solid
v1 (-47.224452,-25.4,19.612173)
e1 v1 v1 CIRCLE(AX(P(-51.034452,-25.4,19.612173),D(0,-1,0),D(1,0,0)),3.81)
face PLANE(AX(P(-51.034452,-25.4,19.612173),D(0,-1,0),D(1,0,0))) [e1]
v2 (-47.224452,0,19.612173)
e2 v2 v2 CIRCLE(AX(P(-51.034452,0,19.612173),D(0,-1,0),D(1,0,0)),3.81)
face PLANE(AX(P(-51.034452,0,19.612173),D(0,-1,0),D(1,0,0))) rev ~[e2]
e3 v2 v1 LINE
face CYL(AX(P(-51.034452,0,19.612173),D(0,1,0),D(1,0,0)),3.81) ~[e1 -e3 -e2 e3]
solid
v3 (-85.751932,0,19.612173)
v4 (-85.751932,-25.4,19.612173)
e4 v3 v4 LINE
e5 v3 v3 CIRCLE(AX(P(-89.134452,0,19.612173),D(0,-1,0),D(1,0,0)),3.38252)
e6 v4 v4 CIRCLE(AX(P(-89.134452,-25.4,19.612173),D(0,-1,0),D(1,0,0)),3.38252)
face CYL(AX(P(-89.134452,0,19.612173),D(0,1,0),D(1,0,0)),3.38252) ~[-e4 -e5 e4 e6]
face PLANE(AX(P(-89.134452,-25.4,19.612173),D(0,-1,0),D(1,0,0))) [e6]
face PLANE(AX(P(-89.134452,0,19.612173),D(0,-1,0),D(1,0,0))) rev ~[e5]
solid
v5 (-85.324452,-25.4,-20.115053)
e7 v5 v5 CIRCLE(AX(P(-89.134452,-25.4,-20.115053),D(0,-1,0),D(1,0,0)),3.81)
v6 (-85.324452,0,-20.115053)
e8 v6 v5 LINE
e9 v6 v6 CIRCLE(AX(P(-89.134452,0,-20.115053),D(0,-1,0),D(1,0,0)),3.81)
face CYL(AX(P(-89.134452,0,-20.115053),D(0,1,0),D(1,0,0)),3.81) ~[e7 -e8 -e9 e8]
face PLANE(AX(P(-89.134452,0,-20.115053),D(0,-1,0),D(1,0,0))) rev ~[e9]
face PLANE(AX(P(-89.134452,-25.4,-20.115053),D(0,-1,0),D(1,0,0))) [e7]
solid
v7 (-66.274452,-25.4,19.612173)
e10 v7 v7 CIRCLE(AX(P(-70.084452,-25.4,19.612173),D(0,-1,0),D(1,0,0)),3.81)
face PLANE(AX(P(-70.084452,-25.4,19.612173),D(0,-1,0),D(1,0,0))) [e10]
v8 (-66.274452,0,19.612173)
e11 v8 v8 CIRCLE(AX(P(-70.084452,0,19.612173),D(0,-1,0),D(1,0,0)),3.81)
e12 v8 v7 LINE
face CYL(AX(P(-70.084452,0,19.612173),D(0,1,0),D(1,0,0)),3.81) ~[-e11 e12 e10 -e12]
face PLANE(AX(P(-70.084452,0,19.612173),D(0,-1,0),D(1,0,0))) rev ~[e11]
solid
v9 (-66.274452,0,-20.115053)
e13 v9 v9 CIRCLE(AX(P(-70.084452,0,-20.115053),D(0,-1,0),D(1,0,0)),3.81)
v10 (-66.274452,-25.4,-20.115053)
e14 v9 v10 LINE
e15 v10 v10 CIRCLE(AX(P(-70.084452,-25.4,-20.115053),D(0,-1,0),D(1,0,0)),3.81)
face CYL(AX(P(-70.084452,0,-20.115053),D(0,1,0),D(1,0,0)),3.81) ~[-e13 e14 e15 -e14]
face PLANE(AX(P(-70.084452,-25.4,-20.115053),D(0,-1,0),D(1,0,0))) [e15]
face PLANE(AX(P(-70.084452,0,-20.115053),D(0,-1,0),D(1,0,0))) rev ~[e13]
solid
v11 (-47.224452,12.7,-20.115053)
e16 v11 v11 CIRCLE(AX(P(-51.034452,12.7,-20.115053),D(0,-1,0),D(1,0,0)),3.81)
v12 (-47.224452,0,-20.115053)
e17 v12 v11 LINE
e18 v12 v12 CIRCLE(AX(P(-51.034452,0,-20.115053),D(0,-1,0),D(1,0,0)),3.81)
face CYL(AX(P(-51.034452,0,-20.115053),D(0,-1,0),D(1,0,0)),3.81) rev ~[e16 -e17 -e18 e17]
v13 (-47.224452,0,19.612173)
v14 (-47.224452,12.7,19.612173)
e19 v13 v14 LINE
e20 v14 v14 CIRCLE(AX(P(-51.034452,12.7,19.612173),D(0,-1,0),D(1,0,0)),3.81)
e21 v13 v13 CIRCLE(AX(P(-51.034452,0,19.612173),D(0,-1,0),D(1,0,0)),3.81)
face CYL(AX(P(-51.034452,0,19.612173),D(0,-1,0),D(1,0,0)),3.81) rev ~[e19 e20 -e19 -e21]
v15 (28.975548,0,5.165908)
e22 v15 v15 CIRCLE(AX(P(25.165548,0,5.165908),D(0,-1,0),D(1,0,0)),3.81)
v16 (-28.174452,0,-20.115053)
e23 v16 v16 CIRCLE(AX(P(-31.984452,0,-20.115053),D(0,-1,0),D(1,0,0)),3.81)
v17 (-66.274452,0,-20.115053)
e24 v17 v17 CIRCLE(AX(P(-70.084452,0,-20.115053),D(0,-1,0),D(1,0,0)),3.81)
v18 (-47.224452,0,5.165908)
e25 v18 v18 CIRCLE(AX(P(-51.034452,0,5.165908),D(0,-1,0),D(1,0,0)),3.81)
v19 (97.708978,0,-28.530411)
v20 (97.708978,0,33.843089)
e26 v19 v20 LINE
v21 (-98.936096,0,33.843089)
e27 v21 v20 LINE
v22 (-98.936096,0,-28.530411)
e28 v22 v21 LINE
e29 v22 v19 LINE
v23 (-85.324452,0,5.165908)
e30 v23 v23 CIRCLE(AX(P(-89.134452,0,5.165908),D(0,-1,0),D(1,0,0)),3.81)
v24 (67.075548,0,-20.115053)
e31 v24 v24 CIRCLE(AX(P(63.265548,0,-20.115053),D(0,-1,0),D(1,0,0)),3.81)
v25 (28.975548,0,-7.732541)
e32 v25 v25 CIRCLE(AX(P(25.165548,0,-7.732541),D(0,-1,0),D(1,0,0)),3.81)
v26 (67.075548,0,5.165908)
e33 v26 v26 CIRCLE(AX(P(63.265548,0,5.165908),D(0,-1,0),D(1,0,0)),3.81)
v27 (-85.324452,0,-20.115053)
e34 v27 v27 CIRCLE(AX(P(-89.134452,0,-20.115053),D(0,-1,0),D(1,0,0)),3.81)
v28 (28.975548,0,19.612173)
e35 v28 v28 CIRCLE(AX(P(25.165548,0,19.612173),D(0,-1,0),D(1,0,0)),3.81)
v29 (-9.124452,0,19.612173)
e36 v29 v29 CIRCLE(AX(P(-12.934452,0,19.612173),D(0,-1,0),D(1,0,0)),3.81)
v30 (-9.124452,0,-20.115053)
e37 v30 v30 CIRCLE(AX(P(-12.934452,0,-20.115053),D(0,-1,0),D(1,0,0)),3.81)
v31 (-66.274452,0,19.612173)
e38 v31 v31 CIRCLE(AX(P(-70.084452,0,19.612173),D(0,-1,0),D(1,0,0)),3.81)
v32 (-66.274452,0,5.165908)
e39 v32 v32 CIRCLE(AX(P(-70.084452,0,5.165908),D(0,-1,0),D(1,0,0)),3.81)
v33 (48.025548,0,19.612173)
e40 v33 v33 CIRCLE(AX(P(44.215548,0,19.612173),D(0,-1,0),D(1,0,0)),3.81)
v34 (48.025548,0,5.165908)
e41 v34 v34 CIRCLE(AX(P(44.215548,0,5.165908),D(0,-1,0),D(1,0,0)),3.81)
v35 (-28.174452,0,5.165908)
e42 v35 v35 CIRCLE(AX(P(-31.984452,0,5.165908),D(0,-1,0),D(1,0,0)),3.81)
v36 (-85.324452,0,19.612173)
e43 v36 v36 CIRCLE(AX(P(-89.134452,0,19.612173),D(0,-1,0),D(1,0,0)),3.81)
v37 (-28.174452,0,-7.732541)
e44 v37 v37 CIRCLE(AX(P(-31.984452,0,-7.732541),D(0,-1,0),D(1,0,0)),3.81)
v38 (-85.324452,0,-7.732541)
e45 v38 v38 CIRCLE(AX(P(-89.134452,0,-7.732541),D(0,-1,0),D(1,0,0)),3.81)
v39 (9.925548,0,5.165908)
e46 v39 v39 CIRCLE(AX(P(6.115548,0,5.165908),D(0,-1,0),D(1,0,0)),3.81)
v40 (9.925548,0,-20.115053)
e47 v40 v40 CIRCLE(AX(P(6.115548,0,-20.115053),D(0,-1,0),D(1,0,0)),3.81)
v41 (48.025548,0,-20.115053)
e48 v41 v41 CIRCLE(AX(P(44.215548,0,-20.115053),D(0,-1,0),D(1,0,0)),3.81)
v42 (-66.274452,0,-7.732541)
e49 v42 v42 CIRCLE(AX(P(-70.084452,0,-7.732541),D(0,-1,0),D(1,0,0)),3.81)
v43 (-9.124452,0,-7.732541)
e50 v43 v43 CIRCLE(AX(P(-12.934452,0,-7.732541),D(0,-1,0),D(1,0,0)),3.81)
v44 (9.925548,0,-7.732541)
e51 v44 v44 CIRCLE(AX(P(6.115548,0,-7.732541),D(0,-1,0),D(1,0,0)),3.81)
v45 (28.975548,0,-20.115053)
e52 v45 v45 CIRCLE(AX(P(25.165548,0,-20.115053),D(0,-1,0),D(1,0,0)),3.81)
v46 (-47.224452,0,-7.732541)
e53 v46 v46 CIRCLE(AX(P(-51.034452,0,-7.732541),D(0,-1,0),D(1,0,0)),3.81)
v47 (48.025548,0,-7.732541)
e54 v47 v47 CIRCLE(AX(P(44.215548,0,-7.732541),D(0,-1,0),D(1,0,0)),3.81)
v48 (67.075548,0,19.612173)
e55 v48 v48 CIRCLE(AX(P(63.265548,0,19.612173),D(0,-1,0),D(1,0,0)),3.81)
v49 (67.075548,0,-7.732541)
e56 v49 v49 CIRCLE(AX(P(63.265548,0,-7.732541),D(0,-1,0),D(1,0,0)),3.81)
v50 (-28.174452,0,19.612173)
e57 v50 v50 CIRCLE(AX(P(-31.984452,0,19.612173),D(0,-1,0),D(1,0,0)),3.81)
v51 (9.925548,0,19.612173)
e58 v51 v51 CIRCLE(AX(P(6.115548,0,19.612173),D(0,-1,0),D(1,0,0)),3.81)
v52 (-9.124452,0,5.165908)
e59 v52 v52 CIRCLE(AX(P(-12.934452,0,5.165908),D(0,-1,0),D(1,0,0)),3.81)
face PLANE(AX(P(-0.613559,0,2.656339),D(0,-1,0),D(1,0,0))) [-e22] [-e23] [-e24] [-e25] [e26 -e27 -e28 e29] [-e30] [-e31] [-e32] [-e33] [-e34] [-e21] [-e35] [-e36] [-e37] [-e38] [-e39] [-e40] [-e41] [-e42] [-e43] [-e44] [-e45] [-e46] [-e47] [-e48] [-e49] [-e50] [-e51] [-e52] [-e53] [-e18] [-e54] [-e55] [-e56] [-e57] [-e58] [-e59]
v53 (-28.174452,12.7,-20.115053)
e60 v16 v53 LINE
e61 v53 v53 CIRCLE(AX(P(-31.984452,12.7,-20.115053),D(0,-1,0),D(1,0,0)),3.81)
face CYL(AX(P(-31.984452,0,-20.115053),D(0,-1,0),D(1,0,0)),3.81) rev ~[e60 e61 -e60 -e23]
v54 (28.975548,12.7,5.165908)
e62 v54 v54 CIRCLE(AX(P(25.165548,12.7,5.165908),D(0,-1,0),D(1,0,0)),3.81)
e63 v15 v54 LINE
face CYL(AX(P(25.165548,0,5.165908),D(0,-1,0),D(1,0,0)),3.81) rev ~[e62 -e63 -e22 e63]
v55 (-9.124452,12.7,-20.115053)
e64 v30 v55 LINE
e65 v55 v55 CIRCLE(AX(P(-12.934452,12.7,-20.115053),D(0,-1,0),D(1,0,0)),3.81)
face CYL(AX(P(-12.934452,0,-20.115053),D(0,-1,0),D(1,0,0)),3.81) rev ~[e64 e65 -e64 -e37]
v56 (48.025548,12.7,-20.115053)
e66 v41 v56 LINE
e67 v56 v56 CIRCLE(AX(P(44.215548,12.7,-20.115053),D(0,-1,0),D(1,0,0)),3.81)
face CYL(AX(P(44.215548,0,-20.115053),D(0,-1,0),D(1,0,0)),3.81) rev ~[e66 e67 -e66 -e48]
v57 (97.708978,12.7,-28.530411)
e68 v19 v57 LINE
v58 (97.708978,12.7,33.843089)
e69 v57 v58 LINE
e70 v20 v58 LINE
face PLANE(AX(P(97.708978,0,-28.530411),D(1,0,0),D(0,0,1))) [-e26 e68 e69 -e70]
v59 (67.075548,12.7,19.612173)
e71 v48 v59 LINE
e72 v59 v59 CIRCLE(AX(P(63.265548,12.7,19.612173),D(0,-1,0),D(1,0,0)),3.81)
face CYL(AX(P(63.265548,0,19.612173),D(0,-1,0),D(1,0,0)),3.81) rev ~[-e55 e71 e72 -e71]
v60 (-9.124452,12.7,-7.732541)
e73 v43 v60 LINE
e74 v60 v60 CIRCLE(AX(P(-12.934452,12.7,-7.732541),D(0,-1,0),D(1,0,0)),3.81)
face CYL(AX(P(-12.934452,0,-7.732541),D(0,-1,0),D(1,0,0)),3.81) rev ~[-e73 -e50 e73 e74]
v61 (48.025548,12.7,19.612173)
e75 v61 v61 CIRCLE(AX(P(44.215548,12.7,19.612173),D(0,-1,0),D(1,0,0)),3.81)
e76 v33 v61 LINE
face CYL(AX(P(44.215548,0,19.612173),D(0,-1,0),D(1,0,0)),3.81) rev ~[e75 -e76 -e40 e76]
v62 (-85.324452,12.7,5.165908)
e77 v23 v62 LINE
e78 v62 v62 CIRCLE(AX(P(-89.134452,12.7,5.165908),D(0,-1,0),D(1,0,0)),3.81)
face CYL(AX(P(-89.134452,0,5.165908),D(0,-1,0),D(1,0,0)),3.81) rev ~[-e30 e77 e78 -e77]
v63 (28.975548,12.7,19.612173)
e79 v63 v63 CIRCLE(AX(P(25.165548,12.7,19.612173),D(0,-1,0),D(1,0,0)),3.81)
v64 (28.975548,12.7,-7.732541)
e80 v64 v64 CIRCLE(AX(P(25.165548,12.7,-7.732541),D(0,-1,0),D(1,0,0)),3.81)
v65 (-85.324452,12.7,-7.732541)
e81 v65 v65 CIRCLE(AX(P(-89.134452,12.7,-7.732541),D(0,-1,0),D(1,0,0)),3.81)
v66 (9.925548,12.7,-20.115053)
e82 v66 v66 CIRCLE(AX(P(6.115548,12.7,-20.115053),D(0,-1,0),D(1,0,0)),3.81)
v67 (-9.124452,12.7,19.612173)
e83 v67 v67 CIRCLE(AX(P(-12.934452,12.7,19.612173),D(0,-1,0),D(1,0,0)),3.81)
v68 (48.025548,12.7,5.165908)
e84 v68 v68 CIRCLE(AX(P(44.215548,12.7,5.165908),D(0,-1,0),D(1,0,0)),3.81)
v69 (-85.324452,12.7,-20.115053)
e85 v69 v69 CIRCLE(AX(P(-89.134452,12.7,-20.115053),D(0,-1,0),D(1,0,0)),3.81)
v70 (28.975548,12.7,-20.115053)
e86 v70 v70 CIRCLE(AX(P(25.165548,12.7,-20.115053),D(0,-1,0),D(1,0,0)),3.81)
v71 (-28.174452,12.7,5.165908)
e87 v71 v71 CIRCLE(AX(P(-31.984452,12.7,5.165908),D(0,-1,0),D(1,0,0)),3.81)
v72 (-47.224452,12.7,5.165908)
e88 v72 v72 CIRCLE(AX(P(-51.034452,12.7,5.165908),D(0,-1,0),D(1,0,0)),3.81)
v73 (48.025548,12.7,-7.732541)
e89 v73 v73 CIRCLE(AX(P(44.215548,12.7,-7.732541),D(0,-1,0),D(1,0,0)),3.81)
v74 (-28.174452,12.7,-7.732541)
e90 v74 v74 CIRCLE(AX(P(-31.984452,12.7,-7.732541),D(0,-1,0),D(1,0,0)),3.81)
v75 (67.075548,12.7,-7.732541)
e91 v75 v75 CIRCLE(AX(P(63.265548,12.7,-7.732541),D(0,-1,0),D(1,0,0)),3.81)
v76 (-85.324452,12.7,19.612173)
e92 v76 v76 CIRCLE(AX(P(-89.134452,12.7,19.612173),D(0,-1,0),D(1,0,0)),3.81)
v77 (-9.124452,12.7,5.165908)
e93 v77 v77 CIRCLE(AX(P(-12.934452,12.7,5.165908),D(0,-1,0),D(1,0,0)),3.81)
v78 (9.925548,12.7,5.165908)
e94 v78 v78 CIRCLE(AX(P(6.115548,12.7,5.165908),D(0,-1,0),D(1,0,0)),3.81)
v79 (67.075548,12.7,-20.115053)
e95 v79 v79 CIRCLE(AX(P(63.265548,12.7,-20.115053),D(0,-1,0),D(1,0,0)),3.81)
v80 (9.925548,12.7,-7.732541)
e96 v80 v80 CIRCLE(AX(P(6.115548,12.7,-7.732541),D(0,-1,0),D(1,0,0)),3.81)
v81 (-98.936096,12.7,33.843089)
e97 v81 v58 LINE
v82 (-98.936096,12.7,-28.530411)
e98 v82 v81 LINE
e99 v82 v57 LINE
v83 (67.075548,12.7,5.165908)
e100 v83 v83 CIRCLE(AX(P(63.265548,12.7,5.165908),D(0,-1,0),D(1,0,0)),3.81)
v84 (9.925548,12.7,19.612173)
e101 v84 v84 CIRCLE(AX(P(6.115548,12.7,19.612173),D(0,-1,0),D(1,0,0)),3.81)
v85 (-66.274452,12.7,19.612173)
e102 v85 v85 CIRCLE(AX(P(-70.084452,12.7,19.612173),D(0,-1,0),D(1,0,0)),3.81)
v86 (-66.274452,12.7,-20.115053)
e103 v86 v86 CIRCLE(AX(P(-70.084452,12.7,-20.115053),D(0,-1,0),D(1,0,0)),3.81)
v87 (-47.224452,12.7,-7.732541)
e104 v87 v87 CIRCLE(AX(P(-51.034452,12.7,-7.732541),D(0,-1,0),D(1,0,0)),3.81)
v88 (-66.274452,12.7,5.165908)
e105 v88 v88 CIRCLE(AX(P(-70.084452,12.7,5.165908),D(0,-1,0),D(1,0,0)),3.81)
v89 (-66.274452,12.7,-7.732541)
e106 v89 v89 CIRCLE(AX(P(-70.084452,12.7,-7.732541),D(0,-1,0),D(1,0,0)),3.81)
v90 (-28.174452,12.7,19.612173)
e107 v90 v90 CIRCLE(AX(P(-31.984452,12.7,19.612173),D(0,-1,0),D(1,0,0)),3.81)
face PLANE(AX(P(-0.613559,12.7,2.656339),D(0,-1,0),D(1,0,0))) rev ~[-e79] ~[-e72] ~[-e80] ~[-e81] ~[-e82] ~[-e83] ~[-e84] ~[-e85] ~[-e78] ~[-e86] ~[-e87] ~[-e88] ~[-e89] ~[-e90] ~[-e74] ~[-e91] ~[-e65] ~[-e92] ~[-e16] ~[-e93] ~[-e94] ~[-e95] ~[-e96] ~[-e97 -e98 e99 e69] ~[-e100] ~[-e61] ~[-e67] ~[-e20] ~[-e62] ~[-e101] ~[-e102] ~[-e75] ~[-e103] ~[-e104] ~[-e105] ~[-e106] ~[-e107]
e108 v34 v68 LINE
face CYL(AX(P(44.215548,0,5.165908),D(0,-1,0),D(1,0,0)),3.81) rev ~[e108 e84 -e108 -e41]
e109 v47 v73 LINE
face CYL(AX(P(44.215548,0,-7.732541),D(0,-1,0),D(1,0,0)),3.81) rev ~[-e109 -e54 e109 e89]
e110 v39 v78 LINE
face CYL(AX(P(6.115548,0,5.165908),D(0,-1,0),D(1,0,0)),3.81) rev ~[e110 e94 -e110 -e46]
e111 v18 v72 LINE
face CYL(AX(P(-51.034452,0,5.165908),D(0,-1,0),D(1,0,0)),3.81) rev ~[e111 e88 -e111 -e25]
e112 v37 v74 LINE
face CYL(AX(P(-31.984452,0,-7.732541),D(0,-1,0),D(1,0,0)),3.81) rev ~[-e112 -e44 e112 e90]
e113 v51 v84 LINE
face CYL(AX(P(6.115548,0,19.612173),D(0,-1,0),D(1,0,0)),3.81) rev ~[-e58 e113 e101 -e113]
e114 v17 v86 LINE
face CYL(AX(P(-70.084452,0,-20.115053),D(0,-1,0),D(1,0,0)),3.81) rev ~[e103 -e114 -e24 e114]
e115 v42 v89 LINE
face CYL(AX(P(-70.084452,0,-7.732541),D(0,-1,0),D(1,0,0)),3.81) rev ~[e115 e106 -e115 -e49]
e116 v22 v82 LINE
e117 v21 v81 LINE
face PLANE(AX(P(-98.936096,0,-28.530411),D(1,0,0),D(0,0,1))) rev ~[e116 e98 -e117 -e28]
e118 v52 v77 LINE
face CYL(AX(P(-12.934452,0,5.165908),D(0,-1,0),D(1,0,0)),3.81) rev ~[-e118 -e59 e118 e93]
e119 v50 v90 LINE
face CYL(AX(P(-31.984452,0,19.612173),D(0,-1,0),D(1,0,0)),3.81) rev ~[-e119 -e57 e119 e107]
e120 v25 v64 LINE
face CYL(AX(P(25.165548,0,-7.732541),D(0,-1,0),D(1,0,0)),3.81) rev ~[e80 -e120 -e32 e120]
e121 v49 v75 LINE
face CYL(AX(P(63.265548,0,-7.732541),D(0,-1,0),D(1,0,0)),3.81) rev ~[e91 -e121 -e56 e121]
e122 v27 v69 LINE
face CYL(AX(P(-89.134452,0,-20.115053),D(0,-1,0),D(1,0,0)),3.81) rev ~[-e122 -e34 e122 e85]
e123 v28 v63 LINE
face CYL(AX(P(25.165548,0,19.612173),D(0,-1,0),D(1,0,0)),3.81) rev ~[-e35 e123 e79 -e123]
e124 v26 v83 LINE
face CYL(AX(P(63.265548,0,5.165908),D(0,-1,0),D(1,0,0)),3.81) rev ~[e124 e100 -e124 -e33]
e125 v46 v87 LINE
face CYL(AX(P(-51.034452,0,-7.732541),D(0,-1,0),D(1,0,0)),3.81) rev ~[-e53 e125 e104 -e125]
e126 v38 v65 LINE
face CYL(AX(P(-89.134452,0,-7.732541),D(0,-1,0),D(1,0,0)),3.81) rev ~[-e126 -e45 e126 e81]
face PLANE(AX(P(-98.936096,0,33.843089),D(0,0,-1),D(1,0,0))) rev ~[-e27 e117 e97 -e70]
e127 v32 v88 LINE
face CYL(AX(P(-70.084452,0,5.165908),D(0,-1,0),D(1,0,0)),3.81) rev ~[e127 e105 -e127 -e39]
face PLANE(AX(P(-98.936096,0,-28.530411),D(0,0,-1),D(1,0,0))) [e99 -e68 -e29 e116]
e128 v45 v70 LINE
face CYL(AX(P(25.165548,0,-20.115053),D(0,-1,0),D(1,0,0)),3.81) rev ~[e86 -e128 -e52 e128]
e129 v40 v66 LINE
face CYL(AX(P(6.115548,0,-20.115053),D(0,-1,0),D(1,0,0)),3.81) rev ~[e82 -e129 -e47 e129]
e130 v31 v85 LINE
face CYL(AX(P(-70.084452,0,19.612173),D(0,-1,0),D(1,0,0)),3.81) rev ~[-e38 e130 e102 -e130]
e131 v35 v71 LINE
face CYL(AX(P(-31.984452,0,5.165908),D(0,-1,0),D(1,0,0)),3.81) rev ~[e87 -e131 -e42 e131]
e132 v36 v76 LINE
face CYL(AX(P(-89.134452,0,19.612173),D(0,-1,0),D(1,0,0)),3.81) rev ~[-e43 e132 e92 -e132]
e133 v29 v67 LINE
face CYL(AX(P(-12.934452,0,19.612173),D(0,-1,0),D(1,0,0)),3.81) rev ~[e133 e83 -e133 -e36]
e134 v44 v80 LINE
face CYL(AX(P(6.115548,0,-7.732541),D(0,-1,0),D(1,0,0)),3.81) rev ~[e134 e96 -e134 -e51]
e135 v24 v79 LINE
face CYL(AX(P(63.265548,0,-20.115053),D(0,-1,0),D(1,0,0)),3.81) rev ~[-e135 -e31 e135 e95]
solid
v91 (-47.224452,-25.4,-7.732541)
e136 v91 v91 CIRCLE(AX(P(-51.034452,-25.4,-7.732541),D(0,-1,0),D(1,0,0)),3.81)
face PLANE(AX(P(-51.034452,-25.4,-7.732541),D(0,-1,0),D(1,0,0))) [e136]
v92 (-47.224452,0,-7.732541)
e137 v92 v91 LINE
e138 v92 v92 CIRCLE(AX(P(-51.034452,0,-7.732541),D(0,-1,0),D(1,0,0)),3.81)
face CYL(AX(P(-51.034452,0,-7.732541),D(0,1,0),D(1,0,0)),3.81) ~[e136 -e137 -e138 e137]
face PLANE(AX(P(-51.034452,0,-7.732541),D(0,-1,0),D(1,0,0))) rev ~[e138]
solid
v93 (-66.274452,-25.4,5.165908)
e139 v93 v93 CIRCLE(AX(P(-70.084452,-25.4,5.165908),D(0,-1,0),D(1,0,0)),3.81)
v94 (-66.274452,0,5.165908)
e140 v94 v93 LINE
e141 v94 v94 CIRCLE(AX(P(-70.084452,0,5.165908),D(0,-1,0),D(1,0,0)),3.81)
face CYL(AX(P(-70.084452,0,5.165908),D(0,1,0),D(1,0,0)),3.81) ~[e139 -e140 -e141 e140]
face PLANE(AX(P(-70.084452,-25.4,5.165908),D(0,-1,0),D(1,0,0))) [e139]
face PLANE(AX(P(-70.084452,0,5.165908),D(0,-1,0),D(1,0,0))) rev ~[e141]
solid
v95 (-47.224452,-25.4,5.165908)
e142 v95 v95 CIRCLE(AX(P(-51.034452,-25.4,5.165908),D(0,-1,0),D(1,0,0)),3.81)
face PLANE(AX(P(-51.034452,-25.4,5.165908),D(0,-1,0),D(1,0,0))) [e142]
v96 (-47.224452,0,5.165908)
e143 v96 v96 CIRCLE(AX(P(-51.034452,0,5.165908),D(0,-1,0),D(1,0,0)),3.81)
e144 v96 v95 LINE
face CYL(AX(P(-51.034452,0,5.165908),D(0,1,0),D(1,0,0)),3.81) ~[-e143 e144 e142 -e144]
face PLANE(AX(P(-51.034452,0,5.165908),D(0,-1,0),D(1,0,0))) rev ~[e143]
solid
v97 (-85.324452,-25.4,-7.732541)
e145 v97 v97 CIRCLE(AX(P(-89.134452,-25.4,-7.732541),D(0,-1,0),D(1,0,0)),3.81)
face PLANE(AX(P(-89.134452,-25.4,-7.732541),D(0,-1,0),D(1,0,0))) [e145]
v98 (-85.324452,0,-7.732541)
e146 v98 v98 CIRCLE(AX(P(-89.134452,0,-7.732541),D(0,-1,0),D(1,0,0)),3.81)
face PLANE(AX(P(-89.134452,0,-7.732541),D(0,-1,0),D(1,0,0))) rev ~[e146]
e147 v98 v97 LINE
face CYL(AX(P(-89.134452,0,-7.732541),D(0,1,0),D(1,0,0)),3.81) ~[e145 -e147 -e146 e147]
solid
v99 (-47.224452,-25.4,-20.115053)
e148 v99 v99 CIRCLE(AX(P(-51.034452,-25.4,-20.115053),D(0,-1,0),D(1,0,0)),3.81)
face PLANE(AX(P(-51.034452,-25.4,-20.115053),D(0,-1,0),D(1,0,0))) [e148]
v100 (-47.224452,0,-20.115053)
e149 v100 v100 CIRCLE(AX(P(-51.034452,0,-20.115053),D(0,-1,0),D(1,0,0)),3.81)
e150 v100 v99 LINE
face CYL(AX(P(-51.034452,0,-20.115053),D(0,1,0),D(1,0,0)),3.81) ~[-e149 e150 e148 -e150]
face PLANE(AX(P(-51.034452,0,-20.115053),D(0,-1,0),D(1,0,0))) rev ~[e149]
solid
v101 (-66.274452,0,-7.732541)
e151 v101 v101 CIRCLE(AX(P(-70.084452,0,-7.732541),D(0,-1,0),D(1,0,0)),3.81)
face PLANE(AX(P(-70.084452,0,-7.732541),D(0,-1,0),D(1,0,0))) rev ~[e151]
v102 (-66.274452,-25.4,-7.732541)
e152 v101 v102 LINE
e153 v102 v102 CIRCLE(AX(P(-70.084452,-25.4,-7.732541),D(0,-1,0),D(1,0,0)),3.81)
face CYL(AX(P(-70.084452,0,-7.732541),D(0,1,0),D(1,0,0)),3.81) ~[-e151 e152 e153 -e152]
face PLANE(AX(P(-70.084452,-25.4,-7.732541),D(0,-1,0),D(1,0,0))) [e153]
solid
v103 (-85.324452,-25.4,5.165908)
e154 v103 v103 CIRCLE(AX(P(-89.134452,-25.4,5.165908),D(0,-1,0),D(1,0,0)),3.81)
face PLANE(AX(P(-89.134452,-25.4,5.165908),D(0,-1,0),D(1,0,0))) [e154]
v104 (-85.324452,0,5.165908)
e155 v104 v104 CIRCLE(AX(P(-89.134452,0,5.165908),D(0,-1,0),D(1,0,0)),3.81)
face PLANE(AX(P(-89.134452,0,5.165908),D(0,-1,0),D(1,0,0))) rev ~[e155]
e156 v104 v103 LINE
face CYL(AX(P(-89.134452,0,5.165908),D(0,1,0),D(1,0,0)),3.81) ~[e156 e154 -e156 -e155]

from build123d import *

# Parameters (mm, degrees)
F1_W     = 196.645074
F1_H     = 62.3735
F1_R     = 3.81
F2_DEPTH = 12.7
F3_R     = 3.38252
F4_DEPTH = 25.4
F5_R     = 3.81
F6_DEPTH = 25.4


with BuildPart() as f2:
    # F1 (on face) → F2 (new body)
    with BuildSketch(Plane.XZ):
        with Locations((-0.613559, 2.656339)):
            Rectangle(F1_W, F1_H)
        with Locations((-89.134452, -20.115053)):
            Circle(F1_R, mode=Mode.SUBTRACT)
        with Locations((-70.084452, -20.115053)):
            Circle(F1_R, mode=Mode.SUBTRACT)
        with Locations((-51.034452, -20.115053)):
            Circle(F1_R, mode=Mode.SUBTRACT)
        with Locations((-31.984452, -20.115053)):
            Circle(F1_R, mode=Mode.SUBTRACT)
        with Locations((-12.934452, -20.115053)):
            Circle(F1_R, mode=Mode.SUBTRACT)
        with Locations((-89.134452, -7.732541)):
            Circle(F1_R, mode=Mode.SUBTRACT)
        with Locations((-70.084452, -7.732541)):
            Circle(F1_R, mode=Mode.SUBTRACT)
        with Locations((-51.034452, -7.732541)):
            Circle(F1_R, mode=Mode.SUBTRACT)
        with Locations((-31.984452, -7.732541)):
            Circle(F1_R, mode=Mode.SUBTRACT)
        with Locations((-12.934452, -7.732541)):
            Circle(F1_R, mode=Mode.SUBTRACT)
        with Locations((6.115548, -20.115053)):
            Circle(F1_R, mode=Mode.SUBTRACT)
        with Locations((25.165548, -20.115053)):
            Circle(F1_R, mode=Mode.SUBTRACT)
        with Locations((44.215548, -20.115053)):
            Circle(F1_R, mode=Mode.SUBTRACT)
        with Locations((63.265548, -20.115053)):
            Circle(F1_R, mode=Mode.SUBTRACT)
        with Locations((6.115548, -7.732541)):
            Circle(F1_R, mode=Mode.SUBTRACT)
        with Locations((25.165548, -7.732541)):
            Circle(F1_R, mode=Mode.SUBTRACT)
        with Locations((44.215548, -7.732541)):
            Circle(F1_R, mode=Mode.SUBTRACT)
        with Locations((63.265548, -7.732541)):
            Circle(F1_R, mode=Mode.SUBTRACT)
        with Locations((-89.134452, 5.165908)):
            Circle(F1_R, mode=Mode.SUBTRACT)
        with Locations((-70.084452, 5.165908)):
            Circle(F1_R, mode=Mode.SUBTRACT)
        with Locations((-51.034452, 5.165908)):
            Circle(F1_R, mode=Mode.SUBTRACT)
        with Locations((-31.984452, 5.165908)):
            Circle(F1_R, mode=Mode.SUBTRACT)
        with Locations((-12.934452, 5.165908)):
            Circle(F1_R, mode=Mode.SUBTRACT)
        with Locations((-89.134452, 19.612173)):
            Circle(F1_R, mode=Mode.SUBTRACT)
        with Locations((-70.084452, 19.612173)):
            Circle(F1_R, mode=Mode.SUBTRACT)
        with Locations((-51.034452, 19.612173)):
            Circle(F1_R, mode=Mode.SUBTRACT)
        with Locations((-31.984452, 19.612173)):
            Circle(F1_R, mode=Mode.SUBTRACT)
        with Locations((-12.934452, 19.612173)):
            Circle(F1_R, mode=Mode.SUBTRACT)
        with Locations((6.115548, 5.165908)):
            Circle(F1_R, mode=Mode.SUBTRACT)
        with Locations((25.165548, 5.165908)):
            Circle(F1_R, mode=Mode.SUBTRACT)
        with Locations((44.215548, 5.165908)):
            Circle(F1_R, mode=Mode.SUBTRACT)
        with Locations((63.265548, 5.165908)):
            Circle(F1_R, mode=Mode.SUBTRACT)
        with Locations((6.115548, 19.612173)):
            Circle(F1_R, mode=Mode.SUBTRACT)
        with Locations((25.165548, 19.612173)):
            Circle(F1_R, mode=Mode.SUBTRACT)
        with Locations((44.215548, 19.612173)):
            Circle(F1_R, mode=Mode.SUBTRACT)
        with Locations((63.265548, 19.612173)):
            Circle(F1_R, mode=Mode.SUBTRACT)
    extrude(amount=-F2_DEPTH)


with BuildPart() as f4:
    # F3 (on face) → F4 (new body)
    with BuildSketch(Plane.XZ):
        with Locations((-89.134452, 19.612173)):
            Circle(F3_R)
    extrude(amount=F4_DEPTH)


with BuildPart() as f6:
    # F5 (on face) → F6 (new body)
    with BuildSketch(Plane.XZ):
        with Locations((-89.134452, 5.165908)):
            Circle(F5_R)
        with Locations((-89.134452, -7.732541)):
            Circle(F5_R)
        with Locations((-89.134452, -20.115053)):
            Circle(F5_R)
        with Locations((-70.084452, 19.612173)):
            Circle(F5_R)
        with Locations((-70.084452, 5.165908)):
            Circle(F5_R)
        with Locations((-70.084452, -7.732541)):
            Circle(F5_R)
        with Locations((-70.084452, -20.115053)):
            Circle(F5_R)
        with Locations((-51.034452, 19.612173)):
            Circle(F5_R)
        with Locations((-51.034452, 5.165908)):
            Circle(F5_R)
        with Locations((-51.034452, -7.732541)):
            Circle(F5_R)
        with Locations((-51.034452, -20.115053)):
            Circle(F5_R)
    extrude(amount=F6_DEPTH)


solid = Compound([f2.part, f4.part, f6.part])
